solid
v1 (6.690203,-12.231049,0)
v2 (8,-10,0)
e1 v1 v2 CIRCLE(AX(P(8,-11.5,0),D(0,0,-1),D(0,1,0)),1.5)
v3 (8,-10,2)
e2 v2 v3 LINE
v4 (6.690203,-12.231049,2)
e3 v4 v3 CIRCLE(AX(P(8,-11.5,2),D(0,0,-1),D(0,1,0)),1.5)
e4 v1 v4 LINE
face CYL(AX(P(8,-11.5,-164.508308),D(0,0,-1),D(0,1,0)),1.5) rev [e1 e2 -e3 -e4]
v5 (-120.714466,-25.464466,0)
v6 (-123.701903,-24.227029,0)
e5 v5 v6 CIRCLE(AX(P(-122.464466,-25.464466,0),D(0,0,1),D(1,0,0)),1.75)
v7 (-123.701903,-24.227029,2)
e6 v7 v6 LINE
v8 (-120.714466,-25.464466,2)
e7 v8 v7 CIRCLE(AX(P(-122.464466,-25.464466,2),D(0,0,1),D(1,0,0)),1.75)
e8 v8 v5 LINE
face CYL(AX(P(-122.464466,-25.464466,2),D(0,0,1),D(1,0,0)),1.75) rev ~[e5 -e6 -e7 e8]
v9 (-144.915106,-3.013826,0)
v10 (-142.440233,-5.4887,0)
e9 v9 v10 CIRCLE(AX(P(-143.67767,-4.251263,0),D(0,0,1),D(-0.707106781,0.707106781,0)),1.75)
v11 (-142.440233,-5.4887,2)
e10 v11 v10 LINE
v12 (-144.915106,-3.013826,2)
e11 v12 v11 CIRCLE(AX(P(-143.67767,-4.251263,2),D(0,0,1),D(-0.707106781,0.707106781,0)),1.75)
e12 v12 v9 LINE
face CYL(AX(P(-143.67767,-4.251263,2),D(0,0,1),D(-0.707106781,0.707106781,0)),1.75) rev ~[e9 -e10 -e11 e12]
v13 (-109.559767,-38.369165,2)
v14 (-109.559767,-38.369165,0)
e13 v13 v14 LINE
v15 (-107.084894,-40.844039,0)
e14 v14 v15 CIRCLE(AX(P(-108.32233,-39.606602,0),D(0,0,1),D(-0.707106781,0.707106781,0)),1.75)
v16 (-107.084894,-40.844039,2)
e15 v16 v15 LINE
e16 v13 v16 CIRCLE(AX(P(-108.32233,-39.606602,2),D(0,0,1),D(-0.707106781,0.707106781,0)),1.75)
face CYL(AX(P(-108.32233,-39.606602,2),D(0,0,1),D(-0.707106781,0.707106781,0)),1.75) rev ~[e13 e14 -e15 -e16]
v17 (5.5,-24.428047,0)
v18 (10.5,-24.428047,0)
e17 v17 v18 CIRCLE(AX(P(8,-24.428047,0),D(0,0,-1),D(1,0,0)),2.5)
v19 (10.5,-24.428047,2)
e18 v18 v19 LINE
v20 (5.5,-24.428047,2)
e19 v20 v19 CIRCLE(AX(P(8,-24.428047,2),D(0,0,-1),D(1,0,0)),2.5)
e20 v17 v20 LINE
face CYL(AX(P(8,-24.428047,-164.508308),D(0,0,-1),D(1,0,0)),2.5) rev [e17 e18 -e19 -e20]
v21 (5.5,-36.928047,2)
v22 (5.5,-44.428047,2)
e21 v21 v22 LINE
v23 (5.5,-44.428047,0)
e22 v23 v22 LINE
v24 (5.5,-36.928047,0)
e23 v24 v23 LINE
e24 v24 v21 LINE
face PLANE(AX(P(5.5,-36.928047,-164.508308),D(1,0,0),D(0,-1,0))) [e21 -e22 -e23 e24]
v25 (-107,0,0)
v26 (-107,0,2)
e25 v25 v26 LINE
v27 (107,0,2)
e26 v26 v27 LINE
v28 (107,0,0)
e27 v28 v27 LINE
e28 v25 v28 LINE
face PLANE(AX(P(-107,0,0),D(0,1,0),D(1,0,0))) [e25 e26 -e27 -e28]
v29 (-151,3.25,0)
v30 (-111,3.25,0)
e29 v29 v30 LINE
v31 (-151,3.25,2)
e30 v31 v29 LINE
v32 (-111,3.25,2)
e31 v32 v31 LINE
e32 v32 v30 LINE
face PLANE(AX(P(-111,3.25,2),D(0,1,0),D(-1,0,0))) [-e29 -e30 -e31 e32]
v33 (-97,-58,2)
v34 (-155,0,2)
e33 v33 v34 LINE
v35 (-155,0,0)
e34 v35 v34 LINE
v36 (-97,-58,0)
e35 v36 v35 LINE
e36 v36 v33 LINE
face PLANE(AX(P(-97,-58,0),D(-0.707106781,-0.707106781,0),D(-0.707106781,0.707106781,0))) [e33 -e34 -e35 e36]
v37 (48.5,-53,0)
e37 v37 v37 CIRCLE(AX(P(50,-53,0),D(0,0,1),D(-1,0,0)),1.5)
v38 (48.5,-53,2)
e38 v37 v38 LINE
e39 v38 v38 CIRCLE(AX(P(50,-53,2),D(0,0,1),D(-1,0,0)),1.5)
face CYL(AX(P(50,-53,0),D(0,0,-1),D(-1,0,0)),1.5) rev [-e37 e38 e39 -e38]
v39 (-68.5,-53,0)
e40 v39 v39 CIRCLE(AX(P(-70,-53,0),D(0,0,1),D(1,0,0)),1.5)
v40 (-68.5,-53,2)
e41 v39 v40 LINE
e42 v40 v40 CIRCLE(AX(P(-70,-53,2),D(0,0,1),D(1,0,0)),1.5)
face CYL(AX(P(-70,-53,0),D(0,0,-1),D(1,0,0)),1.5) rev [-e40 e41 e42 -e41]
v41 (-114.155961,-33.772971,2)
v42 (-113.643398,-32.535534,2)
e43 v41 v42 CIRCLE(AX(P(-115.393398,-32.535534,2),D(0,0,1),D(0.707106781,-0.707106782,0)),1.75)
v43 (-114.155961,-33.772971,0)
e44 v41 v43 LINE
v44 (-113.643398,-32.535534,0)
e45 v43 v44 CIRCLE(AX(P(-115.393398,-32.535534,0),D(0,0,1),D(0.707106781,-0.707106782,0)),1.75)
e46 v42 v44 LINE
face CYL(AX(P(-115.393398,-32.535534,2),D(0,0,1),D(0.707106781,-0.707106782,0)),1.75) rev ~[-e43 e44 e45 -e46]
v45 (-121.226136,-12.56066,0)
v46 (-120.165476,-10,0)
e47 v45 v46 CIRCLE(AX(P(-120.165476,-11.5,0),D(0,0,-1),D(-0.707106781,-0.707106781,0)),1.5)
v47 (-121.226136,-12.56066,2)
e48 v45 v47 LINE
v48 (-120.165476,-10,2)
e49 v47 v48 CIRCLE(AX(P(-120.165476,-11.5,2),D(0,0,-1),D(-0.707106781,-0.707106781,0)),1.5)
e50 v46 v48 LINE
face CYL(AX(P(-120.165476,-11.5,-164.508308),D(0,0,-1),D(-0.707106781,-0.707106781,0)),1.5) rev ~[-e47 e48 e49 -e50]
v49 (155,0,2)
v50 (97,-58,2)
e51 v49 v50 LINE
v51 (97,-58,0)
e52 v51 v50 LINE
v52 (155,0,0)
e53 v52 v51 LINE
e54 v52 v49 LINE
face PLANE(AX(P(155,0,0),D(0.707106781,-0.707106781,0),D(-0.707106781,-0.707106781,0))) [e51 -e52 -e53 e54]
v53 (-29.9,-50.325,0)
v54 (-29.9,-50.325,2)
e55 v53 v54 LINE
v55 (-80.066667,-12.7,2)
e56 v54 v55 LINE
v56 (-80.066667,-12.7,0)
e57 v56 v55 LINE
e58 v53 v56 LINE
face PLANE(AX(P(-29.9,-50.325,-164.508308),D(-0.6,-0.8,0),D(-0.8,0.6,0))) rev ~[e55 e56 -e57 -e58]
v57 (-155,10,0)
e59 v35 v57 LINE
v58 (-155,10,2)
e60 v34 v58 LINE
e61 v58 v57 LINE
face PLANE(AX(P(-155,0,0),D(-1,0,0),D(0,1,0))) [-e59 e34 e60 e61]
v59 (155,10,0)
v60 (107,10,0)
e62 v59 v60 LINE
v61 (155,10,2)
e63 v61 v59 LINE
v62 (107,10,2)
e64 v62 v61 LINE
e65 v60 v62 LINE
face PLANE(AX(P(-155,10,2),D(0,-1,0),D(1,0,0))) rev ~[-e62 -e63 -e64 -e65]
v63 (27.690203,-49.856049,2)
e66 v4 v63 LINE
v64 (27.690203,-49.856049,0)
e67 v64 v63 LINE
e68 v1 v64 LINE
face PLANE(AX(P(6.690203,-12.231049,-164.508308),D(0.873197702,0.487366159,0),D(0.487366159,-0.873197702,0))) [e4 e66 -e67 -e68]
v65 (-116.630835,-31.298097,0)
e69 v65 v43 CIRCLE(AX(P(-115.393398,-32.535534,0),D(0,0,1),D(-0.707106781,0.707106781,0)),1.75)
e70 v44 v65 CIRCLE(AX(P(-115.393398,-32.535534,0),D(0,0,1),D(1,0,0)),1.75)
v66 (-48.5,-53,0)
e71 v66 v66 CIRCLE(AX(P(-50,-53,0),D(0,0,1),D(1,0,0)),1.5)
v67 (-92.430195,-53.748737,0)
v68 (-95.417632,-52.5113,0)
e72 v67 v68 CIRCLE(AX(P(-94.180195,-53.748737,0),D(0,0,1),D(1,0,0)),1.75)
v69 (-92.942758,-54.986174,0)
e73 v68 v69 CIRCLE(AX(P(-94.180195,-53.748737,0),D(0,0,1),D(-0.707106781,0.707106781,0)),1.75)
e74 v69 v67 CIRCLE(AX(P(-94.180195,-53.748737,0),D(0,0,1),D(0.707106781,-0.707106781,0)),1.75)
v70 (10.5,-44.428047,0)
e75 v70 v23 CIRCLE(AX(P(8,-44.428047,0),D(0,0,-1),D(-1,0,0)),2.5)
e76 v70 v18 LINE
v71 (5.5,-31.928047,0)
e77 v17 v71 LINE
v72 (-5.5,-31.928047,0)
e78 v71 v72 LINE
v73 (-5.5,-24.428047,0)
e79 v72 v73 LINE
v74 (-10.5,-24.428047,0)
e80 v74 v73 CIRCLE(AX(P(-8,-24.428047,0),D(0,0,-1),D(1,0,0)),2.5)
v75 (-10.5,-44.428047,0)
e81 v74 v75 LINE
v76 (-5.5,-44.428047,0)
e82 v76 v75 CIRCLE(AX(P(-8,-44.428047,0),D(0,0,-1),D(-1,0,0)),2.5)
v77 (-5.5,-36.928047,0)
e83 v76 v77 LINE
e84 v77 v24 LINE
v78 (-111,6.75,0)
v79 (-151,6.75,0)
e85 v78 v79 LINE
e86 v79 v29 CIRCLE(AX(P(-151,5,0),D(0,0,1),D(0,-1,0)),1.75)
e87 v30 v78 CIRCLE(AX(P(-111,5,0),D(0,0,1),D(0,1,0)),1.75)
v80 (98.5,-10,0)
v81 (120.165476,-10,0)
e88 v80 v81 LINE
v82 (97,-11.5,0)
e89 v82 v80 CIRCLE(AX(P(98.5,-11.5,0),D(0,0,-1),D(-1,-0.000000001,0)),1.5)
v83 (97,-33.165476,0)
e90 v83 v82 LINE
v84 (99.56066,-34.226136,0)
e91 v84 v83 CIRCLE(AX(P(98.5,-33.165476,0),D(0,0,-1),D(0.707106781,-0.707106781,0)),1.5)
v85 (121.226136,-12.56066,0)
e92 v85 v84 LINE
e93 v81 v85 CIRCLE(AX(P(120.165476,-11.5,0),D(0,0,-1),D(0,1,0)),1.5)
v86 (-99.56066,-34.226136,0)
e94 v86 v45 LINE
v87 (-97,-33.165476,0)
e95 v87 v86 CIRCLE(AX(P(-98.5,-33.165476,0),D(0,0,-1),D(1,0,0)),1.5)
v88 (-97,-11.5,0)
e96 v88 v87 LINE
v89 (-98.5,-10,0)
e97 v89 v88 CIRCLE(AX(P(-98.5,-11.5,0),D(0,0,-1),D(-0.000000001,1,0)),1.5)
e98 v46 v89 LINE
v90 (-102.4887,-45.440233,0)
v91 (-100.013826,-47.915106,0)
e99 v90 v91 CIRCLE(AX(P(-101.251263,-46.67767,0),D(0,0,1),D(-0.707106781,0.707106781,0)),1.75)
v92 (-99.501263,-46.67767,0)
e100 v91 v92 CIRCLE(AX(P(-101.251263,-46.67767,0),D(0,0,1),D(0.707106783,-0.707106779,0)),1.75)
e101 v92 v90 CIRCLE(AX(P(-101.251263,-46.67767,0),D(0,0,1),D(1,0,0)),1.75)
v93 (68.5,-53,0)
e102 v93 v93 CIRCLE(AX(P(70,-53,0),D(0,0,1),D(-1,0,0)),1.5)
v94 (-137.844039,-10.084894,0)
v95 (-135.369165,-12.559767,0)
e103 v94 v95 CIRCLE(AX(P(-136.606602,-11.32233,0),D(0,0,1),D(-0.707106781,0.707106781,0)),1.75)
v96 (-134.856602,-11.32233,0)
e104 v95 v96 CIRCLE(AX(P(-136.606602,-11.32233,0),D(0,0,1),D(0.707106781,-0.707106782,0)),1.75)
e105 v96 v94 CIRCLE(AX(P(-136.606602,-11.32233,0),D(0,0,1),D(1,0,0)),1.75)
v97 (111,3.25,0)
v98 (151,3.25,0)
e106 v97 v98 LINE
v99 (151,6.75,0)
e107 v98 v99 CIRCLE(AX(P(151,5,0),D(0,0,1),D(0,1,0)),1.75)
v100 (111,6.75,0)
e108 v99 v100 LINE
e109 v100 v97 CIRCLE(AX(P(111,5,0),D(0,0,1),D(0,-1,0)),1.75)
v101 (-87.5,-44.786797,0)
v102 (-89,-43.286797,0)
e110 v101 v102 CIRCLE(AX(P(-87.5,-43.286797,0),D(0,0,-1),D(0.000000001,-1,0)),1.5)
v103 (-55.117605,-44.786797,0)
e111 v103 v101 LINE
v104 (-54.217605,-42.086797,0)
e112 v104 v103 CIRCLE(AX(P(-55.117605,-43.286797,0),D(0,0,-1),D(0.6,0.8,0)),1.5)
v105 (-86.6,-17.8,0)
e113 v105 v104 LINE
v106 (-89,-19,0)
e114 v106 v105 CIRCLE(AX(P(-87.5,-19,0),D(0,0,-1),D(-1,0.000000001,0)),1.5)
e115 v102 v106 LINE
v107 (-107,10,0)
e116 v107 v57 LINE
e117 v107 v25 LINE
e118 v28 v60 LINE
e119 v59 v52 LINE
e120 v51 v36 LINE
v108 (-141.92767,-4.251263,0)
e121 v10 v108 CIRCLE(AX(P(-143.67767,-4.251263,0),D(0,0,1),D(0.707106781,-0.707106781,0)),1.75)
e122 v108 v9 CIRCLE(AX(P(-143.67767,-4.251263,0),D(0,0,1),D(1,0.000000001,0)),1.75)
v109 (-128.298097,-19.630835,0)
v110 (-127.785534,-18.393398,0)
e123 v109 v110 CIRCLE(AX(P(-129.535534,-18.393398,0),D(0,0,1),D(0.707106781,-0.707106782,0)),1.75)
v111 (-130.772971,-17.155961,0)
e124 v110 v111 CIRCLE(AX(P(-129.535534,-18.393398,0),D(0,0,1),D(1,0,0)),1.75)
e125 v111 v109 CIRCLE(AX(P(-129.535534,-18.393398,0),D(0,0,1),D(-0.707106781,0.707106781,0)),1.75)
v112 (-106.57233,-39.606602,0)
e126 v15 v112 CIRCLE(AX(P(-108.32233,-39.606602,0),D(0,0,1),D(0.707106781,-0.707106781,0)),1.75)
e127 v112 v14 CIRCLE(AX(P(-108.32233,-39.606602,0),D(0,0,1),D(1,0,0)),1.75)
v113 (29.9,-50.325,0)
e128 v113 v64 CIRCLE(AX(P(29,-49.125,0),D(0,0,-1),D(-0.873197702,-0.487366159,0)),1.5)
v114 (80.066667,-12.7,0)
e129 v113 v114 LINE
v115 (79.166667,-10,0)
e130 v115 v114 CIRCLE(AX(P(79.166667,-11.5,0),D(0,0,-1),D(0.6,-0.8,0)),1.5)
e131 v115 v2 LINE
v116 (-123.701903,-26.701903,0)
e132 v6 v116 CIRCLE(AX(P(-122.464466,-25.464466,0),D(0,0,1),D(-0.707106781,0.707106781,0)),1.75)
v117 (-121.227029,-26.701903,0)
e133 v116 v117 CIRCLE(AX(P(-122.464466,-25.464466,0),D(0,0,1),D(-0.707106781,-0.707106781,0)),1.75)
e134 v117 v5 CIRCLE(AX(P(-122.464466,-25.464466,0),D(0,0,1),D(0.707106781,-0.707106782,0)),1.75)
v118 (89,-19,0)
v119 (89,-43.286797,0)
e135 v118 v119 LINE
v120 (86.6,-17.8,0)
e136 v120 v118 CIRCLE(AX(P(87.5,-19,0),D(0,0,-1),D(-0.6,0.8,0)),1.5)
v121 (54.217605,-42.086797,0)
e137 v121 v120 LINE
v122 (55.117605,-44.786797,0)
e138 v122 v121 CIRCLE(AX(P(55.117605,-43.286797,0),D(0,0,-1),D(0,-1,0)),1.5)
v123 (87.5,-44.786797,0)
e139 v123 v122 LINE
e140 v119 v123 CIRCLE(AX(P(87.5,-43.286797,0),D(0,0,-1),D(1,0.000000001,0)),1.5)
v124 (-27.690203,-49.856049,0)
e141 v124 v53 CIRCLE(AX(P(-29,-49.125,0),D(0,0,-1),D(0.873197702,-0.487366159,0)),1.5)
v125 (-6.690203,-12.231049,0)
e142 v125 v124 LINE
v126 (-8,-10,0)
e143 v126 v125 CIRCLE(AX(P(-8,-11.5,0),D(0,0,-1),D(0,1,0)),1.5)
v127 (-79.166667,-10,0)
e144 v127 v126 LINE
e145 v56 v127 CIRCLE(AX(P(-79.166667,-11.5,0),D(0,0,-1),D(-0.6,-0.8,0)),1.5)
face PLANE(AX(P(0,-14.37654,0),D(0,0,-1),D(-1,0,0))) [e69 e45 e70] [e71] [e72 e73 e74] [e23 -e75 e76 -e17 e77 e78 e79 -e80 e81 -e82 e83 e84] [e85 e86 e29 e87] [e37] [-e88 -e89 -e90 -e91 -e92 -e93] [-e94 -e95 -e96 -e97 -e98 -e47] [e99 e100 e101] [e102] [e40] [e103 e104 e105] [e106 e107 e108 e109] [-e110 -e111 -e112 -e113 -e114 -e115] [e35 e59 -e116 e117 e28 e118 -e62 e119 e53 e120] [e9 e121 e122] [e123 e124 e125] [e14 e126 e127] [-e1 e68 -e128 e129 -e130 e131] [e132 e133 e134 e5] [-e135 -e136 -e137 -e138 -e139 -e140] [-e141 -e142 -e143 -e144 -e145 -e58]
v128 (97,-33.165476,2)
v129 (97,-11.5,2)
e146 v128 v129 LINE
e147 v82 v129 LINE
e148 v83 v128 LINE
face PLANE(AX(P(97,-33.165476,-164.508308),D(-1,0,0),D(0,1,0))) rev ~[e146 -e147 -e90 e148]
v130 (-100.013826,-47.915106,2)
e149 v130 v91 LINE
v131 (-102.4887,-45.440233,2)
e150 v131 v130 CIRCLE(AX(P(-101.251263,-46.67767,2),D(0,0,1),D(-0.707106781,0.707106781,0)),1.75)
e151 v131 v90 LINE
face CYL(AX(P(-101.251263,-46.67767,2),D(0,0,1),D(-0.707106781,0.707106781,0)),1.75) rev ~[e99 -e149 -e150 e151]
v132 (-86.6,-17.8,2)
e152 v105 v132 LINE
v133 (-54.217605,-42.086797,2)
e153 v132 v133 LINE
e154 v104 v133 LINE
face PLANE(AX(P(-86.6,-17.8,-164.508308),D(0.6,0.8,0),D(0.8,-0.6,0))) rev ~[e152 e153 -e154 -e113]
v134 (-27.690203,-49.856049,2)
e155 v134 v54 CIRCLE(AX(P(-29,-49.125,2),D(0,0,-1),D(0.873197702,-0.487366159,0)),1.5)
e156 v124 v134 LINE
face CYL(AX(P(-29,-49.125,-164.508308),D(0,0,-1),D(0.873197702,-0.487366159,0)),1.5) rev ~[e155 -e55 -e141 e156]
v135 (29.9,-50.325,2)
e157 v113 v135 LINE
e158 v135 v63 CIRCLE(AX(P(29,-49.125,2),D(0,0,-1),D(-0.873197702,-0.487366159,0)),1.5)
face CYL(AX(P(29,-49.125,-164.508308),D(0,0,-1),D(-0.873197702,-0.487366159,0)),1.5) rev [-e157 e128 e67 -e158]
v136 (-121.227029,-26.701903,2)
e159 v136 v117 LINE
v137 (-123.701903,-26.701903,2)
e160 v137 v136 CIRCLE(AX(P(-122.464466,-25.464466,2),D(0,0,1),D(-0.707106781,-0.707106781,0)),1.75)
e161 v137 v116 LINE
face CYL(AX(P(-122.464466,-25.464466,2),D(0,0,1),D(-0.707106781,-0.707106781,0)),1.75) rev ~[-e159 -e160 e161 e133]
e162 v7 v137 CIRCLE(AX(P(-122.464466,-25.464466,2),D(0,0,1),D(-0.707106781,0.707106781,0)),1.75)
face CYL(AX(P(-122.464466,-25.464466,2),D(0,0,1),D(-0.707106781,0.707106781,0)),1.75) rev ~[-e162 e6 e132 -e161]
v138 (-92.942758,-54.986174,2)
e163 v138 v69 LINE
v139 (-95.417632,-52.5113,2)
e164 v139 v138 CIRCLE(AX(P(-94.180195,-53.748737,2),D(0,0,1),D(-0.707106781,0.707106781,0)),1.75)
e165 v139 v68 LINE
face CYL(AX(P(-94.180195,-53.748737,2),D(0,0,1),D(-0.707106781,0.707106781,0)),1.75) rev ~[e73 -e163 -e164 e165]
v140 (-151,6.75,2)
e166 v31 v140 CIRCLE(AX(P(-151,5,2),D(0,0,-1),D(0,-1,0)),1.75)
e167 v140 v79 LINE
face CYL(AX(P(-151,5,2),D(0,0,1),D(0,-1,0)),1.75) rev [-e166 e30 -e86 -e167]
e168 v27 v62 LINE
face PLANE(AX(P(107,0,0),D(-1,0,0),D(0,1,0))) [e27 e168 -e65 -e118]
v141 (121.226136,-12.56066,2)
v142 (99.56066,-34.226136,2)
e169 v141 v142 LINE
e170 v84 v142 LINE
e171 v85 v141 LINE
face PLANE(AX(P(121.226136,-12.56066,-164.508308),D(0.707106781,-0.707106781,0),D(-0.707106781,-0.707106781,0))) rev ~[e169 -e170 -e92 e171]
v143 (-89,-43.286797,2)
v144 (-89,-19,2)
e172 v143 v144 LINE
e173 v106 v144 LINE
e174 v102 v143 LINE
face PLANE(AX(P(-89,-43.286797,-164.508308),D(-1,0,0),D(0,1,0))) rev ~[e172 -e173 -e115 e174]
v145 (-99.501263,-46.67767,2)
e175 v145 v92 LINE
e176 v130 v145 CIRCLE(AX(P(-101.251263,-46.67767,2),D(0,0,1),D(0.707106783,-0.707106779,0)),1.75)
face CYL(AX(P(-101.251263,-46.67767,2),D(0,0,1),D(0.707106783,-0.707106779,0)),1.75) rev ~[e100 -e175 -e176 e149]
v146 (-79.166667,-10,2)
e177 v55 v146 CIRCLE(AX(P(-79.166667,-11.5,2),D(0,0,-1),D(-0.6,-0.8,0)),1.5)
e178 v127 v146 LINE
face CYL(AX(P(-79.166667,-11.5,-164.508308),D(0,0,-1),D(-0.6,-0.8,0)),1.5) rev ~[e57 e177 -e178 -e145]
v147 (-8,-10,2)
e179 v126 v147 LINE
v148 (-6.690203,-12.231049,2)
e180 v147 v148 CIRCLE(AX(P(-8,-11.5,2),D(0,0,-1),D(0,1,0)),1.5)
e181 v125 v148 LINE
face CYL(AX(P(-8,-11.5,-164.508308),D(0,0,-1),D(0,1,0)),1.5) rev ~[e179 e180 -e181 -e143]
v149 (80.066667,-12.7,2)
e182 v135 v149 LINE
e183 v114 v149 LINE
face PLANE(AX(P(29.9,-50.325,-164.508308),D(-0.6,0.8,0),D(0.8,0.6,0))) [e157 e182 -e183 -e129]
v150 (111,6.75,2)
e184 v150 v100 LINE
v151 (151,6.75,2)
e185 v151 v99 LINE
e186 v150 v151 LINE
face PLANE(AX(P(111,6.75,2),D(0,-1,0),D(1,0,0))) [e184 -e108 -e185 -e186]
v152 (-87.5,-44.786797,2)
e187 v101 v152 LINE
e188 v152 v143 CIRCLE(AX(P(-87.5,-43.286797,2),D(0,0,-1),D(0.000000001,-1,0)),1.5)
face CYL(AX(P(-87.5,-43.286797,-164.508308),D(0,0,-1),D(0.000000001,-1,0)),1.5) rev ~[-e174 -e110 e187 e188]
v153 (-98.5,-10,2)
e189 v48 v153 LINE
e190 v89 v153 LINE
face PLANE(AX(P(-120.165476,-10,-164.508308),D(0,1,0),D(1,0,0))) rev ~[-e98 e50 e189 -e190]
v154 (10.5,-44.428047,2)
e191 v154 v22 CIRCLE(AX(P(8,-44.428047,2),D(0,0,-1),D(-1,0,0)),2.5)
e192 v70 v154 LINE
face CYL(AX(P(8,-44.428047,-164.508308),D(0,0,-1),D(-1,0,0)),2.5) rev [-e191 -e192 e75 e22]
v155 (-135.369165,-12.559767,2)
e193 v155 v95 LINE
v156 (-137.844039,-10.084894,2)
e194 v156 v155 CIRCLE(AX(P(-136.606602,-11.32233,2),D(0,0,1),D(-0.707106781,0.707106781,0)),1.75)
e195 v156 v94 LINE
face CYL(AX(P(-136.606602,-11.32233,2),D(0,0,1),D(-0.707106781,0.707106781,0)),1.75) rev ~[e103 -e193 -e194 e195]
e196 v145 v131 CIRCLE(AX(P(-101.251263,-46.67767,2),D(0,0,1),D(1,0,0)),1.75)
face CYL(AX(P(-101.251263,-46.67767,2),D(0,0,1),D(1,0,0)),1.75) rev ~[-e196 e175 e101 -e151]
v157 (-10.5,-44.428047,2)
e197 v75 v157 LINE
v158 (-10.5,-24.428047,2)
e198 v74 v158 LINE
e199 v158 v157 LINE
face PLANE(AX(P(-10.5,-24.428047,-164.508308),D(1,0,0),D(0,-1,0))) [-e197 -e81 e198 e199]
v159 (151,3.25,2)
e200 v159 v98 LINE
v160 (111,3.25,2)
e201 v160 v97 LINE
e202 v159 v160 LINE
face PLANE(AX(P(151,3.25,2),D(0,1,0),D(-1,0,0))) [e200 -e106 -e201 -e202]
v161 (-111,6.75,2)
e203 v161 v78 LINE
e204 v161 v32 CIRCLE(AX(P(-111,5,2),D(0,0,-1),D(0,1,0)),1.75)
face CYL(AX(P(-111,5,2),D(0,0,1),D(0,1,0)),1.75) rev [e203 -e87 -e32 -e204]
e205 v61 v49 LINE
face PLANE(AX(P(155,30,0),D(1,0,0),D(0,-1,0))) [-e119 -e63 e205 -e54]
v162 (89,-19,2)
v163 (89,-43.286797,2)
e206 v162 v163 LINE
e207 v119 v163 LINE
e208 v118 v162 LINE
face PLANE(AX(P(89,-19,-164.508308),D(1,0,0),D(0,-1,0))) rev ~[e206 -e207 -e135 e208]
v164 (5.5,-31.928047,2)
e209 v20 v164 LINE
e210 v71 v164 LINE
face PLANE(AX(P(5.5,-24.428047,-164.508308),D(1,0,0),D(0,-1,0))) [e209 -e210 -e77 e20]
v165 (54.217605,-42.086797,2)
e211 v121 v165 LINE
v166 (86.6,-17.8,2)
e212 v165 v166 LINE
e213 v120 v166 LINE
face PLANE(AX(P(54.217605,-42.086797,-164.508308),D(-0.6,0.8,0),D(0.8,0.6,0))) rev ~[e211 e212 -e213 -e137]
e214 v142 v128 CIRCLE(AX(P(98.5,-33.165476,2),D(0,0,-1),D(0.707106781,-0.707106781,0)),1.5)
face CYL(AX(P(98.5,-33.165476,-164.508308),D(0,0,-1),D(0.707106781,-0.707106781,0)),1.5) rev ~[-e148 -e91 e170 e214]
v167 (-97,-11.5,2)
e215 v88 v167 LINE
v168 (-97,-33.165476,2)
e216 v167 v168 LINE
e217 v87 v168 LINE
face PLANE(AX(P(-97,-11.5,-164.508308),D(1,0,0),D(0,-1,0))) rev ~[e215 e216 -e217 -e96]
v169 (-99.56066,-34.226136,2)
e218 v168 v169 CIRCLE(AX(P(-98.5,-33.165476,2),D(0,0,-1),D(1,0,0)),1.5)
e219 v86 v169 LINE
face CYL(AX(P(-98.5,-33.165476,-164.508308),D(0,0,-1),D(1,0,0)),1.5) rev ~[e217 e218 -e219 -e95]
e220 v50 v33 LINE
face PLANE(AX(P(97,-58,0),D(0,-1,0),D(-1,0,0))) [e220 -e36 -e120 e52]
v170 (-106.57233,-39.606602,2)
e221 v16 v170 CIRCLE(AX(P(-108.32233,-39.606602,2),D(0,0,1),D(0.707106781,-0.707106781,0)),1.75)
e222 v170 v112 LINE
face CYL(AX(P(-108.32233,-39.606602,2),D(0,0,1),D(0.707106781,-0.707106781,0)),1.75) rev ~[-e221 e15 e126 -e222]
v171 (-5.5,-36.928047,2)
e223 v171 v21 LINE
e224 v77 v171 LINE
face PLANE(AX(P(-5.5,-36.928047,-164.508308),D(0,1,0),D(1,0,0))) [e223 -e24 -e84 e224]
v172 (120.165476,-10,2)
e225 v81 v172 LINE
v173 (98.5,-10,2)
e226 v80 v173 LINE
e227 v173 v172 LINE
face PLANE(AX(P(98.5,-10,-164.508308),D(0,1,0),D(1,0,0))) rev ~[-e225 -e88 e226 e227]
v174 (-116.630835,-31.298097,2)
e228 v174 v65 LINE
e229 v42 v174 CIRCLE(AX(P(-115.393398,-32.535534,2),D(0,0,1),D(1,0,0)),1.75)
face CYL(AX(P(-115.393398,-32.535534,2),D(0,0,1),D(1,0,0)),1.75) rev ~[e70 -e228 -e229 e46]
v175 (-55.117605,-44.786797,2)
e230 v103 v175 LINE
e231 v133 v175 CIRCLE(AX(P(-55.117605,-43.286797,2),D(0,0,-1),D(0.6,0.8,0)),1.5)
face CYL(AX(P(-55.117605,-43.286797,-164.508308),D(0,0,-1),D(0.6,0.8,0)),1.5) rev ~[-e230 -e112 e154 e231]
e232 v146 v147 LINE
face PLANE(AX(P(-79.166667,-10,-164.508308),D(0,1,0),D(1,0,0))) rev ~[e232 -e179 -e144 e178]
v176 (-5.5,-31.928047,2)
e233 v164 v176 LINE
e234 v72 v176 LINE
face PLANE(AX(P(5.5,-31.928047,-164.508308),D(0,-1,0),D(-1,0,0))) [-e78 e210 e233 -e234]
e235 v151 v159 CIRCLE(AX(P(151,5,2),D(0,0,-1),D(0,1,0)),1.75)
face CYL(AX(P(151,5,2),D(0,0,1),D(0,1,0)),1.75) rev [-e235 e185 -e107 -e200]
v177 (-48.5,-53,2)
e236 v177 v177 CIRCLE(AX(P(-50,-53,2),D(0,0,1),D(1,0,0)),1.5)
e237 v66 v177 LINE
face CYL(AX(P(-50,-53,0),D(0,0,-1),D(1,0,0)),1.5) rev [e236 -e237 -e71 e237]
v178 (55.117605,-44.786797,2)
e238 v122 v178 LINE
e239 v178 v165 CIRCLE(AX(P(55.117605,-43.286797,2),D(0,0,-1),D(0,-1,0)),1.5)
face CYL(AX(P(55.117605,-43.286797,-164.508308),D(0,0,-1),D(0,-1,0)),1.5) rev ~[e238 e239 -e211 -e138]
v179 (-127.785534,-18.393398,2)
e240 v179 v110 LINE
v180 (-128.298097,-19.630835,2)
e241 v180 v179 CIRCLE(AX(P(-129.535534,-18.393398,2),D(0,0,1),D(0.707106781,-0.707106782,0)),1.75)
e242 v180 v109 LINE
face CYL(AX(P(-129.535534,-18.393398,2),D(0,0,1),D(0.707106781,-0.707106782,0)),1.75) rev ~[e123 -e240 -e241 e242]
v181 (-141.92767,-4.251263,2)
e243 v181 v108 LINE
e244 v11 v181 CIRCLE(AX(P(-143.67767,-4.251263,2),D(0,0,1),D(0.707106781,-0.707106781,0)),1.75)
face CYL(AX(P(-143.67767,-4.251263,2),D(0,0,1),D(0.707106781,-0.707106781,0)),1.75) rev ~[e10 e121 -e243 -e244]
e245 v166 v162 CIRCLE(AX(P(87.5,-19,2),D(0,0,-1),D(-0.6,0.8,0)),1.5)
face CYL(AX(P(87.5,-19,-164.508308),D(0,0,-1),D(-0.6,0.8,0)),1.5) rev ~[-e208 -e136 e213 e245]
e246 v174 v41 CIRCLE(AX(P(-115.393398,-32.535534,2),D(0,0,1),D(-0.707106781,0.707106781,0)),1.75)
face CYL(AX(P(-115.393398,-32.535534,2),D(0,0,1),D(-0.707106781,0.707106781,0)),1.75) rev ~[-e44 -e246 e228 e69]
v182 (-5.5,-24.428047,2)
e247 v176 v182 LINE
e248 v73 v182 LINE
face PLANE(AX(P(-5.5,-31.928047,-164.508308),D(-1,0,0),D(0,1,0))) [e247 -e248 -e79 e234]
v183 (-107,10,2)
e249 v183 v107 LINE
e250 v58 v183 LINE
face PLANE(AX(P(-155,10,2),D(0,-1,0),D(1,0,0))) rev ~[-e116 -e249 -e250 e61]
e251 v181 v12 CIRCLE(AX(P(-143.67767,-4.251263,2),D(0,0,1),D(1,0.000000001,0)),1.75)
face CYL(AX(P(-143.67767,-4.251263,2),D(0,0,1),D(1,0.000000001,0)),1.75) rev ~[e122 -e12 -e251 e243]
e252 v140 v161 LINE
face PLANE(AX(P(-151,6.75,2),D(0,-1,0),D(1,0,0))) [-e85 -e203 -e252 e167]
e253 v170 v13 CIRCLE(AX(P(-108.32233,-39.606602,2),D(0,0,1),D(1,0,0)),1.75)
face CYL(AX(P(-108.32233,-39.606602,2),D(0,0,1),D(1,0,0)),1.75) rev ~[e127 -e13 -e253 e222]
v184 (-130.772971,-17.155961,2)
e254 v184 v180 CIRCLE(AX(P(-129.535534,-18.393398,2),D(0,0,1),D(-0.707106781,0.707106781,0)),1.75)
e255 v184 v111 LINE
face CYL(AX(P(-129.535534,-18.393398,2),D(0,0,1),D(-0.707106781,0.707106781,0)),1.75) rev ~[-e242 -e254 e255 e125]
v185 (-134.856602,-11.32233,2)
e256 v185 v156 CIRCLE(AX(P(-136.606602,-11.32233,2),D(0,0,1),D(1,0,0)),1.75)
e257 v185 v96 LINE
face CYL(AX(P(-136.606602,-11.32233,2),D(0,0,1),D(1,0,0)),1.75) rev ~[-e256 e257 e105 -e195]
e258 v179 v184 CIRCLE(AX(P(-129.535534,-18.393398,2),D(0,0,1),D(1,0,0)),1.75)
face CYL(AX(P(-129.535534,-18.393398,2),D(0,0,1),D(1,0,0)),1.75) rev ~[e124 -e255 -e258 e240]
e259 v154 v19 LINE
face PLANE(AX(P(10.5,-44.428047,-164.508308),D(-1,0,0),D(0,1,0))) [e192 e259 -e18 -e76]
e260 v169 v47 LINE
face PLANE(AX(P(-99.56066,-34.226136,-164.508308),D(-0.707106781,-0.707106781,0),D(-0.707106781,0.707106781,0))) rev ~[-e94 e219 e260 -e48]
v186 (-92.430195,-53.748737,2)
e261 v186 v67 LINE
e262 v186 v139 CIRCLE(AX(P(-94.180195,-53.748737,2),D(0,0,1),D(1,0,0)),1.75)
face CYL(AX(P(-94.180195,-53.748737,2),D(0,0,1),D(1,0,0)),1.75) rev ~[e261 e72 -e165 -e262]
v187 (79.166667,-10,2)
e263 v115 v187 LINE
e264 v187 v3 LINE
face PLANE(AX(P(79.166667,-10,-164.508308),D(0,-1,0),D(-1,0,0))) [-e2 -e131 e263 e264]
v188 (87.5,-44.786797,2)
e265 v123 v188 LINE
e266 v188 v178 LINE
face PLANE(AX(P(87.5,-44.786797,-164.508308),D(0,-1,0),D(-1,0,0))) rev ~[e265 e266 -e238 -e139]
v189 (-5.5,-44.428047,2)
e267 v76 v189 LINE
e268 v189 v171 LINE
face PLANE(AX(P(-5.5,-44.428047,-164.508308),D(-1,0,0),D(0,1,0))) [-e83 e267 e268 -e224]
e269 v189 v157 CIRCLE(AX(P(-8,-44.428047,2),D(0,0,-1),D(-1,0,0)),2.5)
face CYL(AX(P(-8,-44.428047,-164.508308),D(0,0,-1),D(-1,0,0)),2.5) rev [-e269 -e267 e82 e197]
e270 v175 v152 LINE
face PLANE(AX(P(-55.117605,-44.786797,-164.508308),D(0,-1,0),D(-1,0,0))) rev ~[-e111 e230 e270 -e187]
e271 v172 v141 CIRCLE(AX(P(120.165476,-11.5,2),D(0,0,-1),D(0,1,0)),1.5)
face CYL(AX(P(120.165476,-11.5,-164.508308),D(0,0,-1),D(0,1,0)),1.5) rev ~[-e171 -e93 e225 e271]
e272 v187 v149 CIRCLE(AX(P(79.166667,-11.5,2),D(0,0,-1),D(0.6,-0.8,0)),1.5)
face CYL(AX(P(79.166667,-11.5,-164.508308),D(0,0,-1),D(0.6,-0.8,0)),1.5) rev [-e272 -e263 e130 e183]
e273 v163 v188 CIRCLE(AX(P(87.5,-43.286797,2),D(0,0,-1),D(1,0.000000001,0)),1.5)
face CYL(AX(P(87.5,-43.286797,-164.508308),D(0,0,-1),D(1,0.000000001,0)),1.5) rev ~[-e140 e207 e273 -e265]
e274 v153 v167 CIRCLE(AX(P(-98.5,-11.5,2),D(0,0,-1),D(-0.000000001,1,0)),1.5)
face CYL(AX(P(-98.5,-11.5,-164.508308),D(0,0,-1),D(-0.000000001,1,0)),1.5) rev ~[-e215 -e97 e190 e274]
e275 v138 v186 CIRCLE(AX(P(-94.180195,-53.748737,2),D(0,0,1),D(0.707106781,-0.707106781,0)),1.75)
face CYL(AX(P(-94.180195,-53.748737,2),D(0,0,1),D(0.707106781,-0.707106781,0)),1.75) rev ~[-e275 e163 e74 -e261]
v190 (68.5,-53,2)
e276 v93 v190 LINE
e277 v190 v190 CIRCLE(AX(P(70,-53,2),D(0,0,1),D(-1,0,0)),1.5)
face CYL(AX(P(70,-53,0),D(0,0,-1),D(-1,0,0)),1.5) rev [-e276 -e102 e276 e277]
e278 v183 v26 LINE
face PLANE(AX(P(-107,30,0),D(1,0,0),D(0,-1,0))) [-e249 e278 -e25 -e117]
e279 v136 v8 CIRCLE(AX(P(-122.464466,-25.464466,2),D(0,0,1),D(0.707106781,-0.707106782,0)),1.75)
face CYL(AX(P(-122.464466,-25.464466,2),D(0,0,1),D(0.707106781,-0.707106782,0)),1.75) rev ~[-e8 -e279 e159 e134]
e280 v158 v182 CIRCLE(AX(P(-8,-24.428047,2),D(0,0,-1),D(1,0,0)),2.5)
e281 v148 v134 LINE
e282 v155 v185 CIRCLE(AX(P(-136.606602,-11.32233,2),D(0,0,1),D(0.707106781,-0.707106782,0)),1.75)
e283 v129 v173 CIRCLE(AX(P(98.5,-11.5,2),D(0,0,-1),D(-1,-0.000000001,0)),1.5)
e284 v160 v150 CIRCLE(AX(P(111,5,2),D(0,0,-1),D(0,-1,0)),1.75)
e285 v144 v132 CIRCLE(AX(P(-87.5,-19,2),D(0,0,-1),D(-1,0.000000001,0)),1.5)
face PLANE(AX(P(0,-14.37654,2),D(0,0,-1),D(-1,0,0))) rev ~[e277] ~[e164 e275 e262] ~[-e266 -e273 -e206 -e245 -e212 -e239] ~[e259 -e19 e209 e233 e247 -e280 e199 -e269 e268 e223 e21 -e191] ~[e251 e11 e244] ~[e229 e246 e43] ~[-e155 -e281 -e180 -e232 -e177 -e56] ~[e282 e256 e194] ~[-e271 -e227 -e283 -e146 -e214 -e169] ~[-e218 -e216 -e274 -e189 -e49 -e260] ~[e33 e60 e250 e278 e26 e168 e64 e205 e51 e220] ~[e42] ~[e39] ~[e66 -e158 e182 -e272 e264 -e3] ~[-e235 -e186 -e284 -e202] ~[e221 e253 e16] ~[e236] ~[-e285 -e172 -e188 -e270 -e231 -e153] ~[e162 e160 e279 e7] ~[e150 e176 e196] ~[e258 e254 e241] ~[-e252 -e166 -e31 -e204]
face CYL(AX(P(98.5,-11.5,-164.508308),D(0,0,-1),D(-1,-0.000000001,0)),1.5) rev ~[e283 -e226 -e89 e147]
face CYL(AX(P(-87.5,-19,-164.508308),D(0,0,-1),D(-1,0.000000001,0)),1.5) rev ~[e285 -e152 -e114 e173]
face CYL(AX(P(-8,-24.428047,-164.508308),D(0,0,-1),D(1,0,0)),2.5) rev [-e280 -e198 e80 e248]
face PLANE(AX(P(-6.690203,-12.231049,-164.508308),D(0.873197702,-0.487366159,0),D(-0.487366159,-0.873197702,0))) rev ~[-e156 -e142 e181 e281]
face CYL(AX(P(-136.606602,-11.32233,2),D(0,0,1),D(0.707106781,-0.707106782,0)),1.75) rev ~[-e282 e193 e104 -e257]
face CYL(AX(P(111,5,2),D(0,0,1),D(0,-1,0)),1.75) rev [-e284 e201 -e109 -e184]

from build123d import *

# Parameters (mm, degrees)
SKETCH_1_R               = 1.5
EXTRUDE_1_DEPTH          = 2
SKETCH_3_W               = 310
SKETCH_3_H               = 20
CUT_EXTRUDE_2_DEPTH      = 166.508307949
CUT_EXTRUDE_3_DEPTH      = 166.508307949
CUT_EXTRUDE_3_DEPTH_BACK = 166.508307949
CUT_EXTRUDE_4_DEPTH      = 166.508307949
CUT_EXTRUDE_6_DEPTH      = 166.508307949


with BuildPart() as part:
    # 草图1 → 凸台-拉伸1 (new body)
    with BuildSketch(Plane.XY):
        Polygon((-107, 30), (-107, 0), (107, 0), (107, 30), (155, 30), (155, 0), (97, -58), (-97, -58), (-155, 0), (-155, 30), align=None)
        with Locations((-151, 25)):
            Circle(SKETCH_1_R, mode=Mode.SUBTRACT)
        with Locations((-111, 25)):
            Circle(SKETCH_1_R, mode=Mode.SUBTRACT)
        with Locations((-111, 5)):
            Circle(SKETCH_1_R, mode=Mode.SUBTRACT)
        with Locations((-151, 5)):
            Circle(SKETCH_1_R, mode=Mode.SUBTRACT)
        with Locations(Location((151, 5, 0), (0, 0, 180))):
            Circle(SKETCH_1_R, mode=Mode.SUBTRACT)
        with Locations(Location((111, 5, 0), (0, 0, 180))):
            Circle(SKETCH_1_R, mode=Mode.SUBTRACT)
        with Locations(Location((111, 25, 0), (0, 0, 180))):
            Circle(SKETCH_1_R, mode=Mode.SUBTRACT)
        with Locations(Location((151, 25, 0), (0, 0, 180))):
            Circle(SKETCH_1_R, mode=Mode.SUBTRACT)
        with Locations((-70, -53)):
            Circle(SKETCH_1_R, mode=Mode.SUBTRACT)
        with Locations((-50, -53)):
            Circle(SKETCH_1_R, mode=Mode.SUBTRACT)
        with Locations(Location((50, -53, 0), (0, 0, 180))):
            Circle(SKETCH_1_R, mode=Mode.SUBTRACT)
        with Locations(Location((70, -53, 0), (0, 0, 180))):
            Circle(SKETCH_1_R, mode=Mode.SUBTRACT)
    extrude(amount=EXTRUDE_1_DEPTH)

    # 草图3 → 切除-拉伸2 (cut, through all)
    with BuildSketch(Plane.XY.offset(2)):
        with Locations((0, 20)):
            Rectangle(SKETCH_3_W, SKETCH_3_H)
    extrude(amount=-CUT_EXTRUDE_2_DEPTH, mode=Mode.SUBTRACT)

    # 草图4 → 切除-拉伸3 (cut, two sides: drawn at the far end of the back side and taken through both)
    with BuildSketch(Plane.XY.offset(2).offset(-CUT_EXTRUDE_3_DEPTH_BACK)):
        with BuildLine():
            Line((5.5, -31.928047473), (0, -31.928047473))
            Line((0, -31.928047473), (0, -36.928047473))
            Line((0, -36.928047473), (5.5, -36.928047473))
            Line((5.5, -36.928047473), (5.5, -44.428047473))
            ThreePointArc((5.5, -44.428047473), (8, -46.928047473), (10.5, -44.428047473))
            Line((10.5, -44.428047473), (10.5, -24.428047473))
            ThreePointArc((10.5, -24.428047473), (8, -21.928047473), (5.5, -24.428047473))
            Line((5.5, -24.428047473), (5.5, -31.928047473))
        make_face()
        with BuildLine():
            Line((0, -36.928047473), (0, -31.928047473))
            Line((0, -31.928047473), (-5.5, -31.928047473))
            Line((-5.5, -31.928047473), (-5.5, -24.428047473))
            ThreePointArc((-5.5, -24.428047473), (-8, -21.928047473), (-10.5, -24.428047473))
            Line((-10.5, -24.428047473), (-10.5, -44.428047473))
            ThreePointArc((-10.5, -44.428047473), (-8, -46.928047473), (-5.5, -44.428047473))
            Line((-5.5, -44.428047473), (-5.5, -36.928047473))
            Line((-5.5, -36.928047473), (0, -36.928047473))
        make_face()
        with BuildLine():
            Line((-79.166666667, -10), (-8, -10))
            ThreePointArc((-8, -10), (-6.706444076, -10.74058373), (-6.690203447, -12.231049239))
            Line((-6.690203447, -12.231049239), (-27.690203447, -49.856049239))
            ThreePointArc((-27.690203447, -49.856049239), (-28.688612769, -50.592323411), (-29.9, -50.325))
            Line((-29.9, -50.325), (-80.066666667, -12.7))
            ThreePointArc((-80.066666667, -12.7), (-80.589691614, -11.025658351), (-79.166666667, -10))
        make_face()
        with BuildLine():
            ThreePointArc((-89, -19), (-88.170820393, -17.658359214), (-86.6, -17.8))
            Line((-86.6, -17.8), (-54.217604581, -42.086796564))
            ThreePointArc((-54.217604581, -42.086796564), (-53.694579634, -43.761138213), (-55.117604581, -44.786796564))
            Line((-55.117604581, -44.786796564), (-87.5, -44.786796564))
            ThreePointArc((-87.5, -44.786796564), (-88.560660172, -44.347456736), (-89, -43.286796564))
            Line((-89, -43.286796564), (-89, -19))
        make_face()
        with BuildLine():
            ThreePointArc((-121.226136393, -12.560660172), (-121.55129552, -10.925974851), (-120.165476221, -10))
            Line((-120.165476221, -10), (-98.5, -10))
            ThreePointArc((-98.5, -10), (-97.439339828, -10.439339828), (-97, -11.5))
            Line((-97, -11.5), (-97, -33.165476221))
            ThreePointArc((-97, -33.165476221), (-97.925974851, -34.55129552), (-99.560660172, -34.226136393))
            Line((-99.560660172, -34.226136393), (-121.226136393, -12.560660172))
        make_face()
        with BuildLine():
            Line((79.166666667, -10), (8, -10))
            ThreePointArc((8, -10), (6.706444076, -10.74058373), (6.690203447, -12.231049239))
            Line((6.690203447, -12.231049239), (27.690203447, -49.856049239))
            ThreePointArc((27.690203447, -49.856049239), (28.688612769, -50.592323411), (29.9, -50.325))
            Line((29.9, -50.325), (80.066666667, -12.7))
            ThreePointArc((80.066666667, -12.7), (80.589691614, -11.025658351), (79.166666667, -10))
        make_face()
        with BuildLine():
            ThreePointArc((55.117604581, -44.786796564), (53.694579634, -43.761138213), (54.217604581, -42.086796564))
            Line((54.217604581, -42.086796564), (86.6, -17.8))
            ThreePointArc((86.6, -17.8), (88.170820393, -17.658359214), (89, -19))
            Line((89, -19), (89, -43.286796564))
            ThreePointArc((89, -43.286796564), (88.560660172, -44.347456736), (87.5, -44.786796564))
            Line((87.5, -44.786796564), (55.117604581, -44.786796564))
        make_face()
        with BuildLine():
            ThreePointArc((99.560660172, -34.226136393), (97.925974851, -34.55129552), (97, -33.165476221))
            Line((97, -33.165476221), (97, -11.5))
            ThreePointArc((97, -11.5), (97.439339828, -10.439339828), (98.5, -10))
            Line((98.5, -10), (120.165476221, -10))
            ThreePointArc((120.165476221, -10), (121.55129552, -10.925974851), (121.226136393, -12.560660172))
            Line((121.226136393, -12.560660172), (99.560660172, -34.226136393))
        make_face()
    extrude(amount=CUT_EXTRUDE_3_DEPTH + CUT_EXTRUDE_3_DEPTH_BACK, mode=Mode.SUBTRACT)

    # 草图5 → 切除-拉伸4 (cut, through all)
    with BuildSketch(Plane.XY.offset(2)):
        with BuildLine():
            Line((-151, 6.75), (-111, 6.75))
            ThreePointArc((-111, 6.75), (-109.25, 5), (-111, 3.25))
            Line((-111, 3.25), (-151, 3.25))
            ThreePointArc((-151, 3.25), (-152.75, 5), (-151, 6.75))
        make_face()
        with BuildLine():
            Line((111, 6.75), (151, 6.75))
            ThreePointArc((151, 6.75), (152.75, 5), (151, 3.25))
            Line((151, 3.25), (111, 3.25))
            ThreePointArc((111, 3.25), (109.25, 5), (111, 6.75))
        make_face()
    extrude(amount=-CUT_EXTRUDE_4_DEPTH, mode=Mode.SUBTRACT)

    # 草图7 → 切除-拉伸6 (cut, through all)
    with BuildSketch(Plane.XY.offset(2)):
        with BuildLine():
            ThreePointArc((-92.430194847, -53.748737342), (-93.51049884, -52.13194816), (-95.417631714, -52.511300474))
            Line((-95.417631714, -52.511300474), (-94.180194847, -53.748737342))
            Line((-94.180194847, -53.748737342), (-92.94275798, -54.986174209))
            ThreePointArc((-92.94275798, -54.986174209), (-92.563405665, -54.418433348), (-92.430194847, -53.748737342))
        make_face()
        with BuildLine():
            Line((-94.180194847, -53.748737342), (-95.417631714, -52.511300474))
            ThreePointArc((-95.417631714, -52.511300474), (-95.417631714, -54.986174209), (-92.94275798, -54.986174209))
            Line((-92.94275798, -54.986174209), (-94.180194847, -53.748737342))
        make_face()
        with BuildLine():
            ThreePointArc((-99.501262658, -46.67766953), (-100.581566652, -45.060880348), (-102.488699526, -45.440232663))
            Line((-102.488699526, -45.440232663), (-101.251262658, -46.67766953))
            Line((-101.251262658, -46.67766953), (-100.013825791, -47.915106397))
            ThreePointArc((-100.013825791, -47.915106397), (-99.634473477, -47.347365536), (-99.501262658, -46.67766953))
        make_face()
        with BuildLine():
            Line((-101.251262658, -46.67766953), (-102.488699526, -45.440232663))
            ThreePointArc((-102.488699526, -45.440232663), (-102.488699526, -47.915106397), (-100.013825791, -47.915106397))
            Line((-100.013825791, -47.915106397), (-101.251262658, -46.67766953))
        make_face()
        with BuildLine():
            ThreePointArc((-106.57233047, -39.606601718), (-107.652634464, -37.989812536), (-109.559767337, -38.369164851))
            Line((-109.559767337, -38.369164851), (-108.32233047, -39.606601718))
            Line((-108.32233047, -39.606601718), (-107.084893603, -40.844038585))
            ThreePointArc((-107.084893603, -40.844038585), (-106.705541288, -40.276297724), (-106.57233047, -39.606601718))
        make_face()
        with BuildLine():
            Line((-108.32233047, -39.606601718), (-109.559767337, -38.369164851))
            ThreePointArc((-109.559767337, -38.369164851), (-109.559767337, -40.844038585), (-107.084893603, -40.844038585))
            Line((-107.084893603, -40.844038585), (-108.32233047, -39.606601718))
        make_face()
        with BuildLine():
            ThreePointArc((-113.643398282, -32.535533906), (-114.723702276, -30.918744724), (-116.630835149, -31.298097039))
            Line((-116.630835149, -31.298097039), (-115.393398282, -32.535533906))
            Line((-115.393398282, -32.535533906), (-114.155961415, -33.772970773))
            ThreePointArc((-114.155961415, -33.772970773), (-113.7766091, -33.205229913), (-113.643398282, -32.535533906))
        make_face()
        with BuildLine():
            Line((-115.393398282, -32.535533906), (-116.630835149, -31.298097039))
            ThreePointArc((-116.630835149, -31.298097039), (-116.630835149, -33.772970773), (-114.155961415, -33.772970773))
            Line((-114.155961415, -33.772970773), (-115.393398282, -32.535533906))
        make_face()
        with BuildLine():
            ThreePointArc((-120.714466094, -25.464466094), (-121.794770087, -23.847676912), (-123.701902961, -24.227029227))
            Line((-123.701902961, -24.227029227), (-122.464466094, -25.464466094))
            Line((-122.464466094, -25.464466094), (-121.227029227, -26.701902961))
            ThreePointArc((-121.227029227, -26.701902961), (-120.847676912, -26.134162101), (-120.714466094, -25.464466094))
        make_face()
        with BuildLine():
            Line((-122.464466094, -25.464466094), (-123.701902961, -24.227029227))
            ThreePointArc((-123.701902961, -24.227029227), (-124.214466094, -25.464466094), (-123.701902961, -26.701902961))
            Line((-123.701902961, -26.701902961), (-122.464466094, -25.464466094))
        make_face()
        with BuildLine():
            Line((-121.227029227, -26.701902961), (-122.464466094, -25.464466094))
            Line((-122.464466094, -25.464466094), (-123.701902961, -26.701902961))
            ThreePointArc((-123.701902961, -26.701902961), (-122.464466094, -27.214466094), (-121.227029227, -26.701902961))
        make_face()
        with BuildLine():
            ThreePointArc((-127.785533906, -18.393398282), (-128.865837899, -16.7766091), (-130.772970773, -17.155961415))
            Line((-130.772970773, -17.155961415), (-129.535533906, -18.393398282))
            Line((-129.535533906, -18.393398282), (-128.298097039, -19.630835149))
            ThreePointArc((-128.298097039, -19.630835149), (-127.918744724, -19.063094289), (-127.785533906, -18.393398282))
        make_face()
        with BuildLine():
            Line((-129.535533906, -18.393398282), (-130.772970773, -17.155961415))
            ThreePointArc((-130.772970773, -17.155961415), (-130.772970773, -19.630835149), (-128.298097039, -19.630835149))
            Line((-128.298097039, -19.630835149), (-129.535533906, -18.393398282))
        make_face()
        with BuildLine():
            ThreePointArc((-134.856601718, -11.32233047), (-135.936905711, -9.705541288), (-137.844038585, -10.084893603))
            Line((-137.844038585, -10.084893603), (-136.606601718, -11.32233047))
            Line((-136.606601718, -11.32233047), (-135.369164851, -12.559767337))
            ThreePointArc((-135.369164851, -12.559767337), (-134.989812536, -11.992026477), (-134.856601718, -11.32233047))
        make_face()
        with BuildLine():
            Line((-136.606601718, -11.32233047), (-137.844038585, -10.084893603))
            ThreePointArc((-137.844038585, -10.084893603), (-137.844038585, -12.559767337), (-135.369164851, -12.559767337))
            Line((-135.369164851, -12.559767337), (-136.606601718, -11.32233047))
        make_face()
        with BuildLine():
            ThreePointArc((-141.92766953, -4.251262658), (-143.007973523, -2.634473477), (-144.915106397, -3.013825791))
            Line((-144.915106397, -3.013825791), (-143.67766953, -4.251262658))
            Line((-143.67766953, -4.251262658), (-142.440232663, -5.488699526))
            ThreePointArc((-142.440232663, -5.488699526), (-142.060880348, -4.920958665), (-141.92766953, -4.251262658))
        make_face()
        with BuildLine():
            Line((-143.67766953, -4.251262658), (-144.915106397, -3.013825791))
            ThreePointArc((-144.915106397, -3.013825791), (-144.915106397, -5.488699526), (-142.440232663, -5.488699526))
            Line((-142.440232663, -5.488699526), (-143.67766953, -4.251262658))
        make_face()
    extrude(amount=-CUT_EXTRUDE_6_DEPTH, mode=Mode.SUBTRACT)


solid = part.part
